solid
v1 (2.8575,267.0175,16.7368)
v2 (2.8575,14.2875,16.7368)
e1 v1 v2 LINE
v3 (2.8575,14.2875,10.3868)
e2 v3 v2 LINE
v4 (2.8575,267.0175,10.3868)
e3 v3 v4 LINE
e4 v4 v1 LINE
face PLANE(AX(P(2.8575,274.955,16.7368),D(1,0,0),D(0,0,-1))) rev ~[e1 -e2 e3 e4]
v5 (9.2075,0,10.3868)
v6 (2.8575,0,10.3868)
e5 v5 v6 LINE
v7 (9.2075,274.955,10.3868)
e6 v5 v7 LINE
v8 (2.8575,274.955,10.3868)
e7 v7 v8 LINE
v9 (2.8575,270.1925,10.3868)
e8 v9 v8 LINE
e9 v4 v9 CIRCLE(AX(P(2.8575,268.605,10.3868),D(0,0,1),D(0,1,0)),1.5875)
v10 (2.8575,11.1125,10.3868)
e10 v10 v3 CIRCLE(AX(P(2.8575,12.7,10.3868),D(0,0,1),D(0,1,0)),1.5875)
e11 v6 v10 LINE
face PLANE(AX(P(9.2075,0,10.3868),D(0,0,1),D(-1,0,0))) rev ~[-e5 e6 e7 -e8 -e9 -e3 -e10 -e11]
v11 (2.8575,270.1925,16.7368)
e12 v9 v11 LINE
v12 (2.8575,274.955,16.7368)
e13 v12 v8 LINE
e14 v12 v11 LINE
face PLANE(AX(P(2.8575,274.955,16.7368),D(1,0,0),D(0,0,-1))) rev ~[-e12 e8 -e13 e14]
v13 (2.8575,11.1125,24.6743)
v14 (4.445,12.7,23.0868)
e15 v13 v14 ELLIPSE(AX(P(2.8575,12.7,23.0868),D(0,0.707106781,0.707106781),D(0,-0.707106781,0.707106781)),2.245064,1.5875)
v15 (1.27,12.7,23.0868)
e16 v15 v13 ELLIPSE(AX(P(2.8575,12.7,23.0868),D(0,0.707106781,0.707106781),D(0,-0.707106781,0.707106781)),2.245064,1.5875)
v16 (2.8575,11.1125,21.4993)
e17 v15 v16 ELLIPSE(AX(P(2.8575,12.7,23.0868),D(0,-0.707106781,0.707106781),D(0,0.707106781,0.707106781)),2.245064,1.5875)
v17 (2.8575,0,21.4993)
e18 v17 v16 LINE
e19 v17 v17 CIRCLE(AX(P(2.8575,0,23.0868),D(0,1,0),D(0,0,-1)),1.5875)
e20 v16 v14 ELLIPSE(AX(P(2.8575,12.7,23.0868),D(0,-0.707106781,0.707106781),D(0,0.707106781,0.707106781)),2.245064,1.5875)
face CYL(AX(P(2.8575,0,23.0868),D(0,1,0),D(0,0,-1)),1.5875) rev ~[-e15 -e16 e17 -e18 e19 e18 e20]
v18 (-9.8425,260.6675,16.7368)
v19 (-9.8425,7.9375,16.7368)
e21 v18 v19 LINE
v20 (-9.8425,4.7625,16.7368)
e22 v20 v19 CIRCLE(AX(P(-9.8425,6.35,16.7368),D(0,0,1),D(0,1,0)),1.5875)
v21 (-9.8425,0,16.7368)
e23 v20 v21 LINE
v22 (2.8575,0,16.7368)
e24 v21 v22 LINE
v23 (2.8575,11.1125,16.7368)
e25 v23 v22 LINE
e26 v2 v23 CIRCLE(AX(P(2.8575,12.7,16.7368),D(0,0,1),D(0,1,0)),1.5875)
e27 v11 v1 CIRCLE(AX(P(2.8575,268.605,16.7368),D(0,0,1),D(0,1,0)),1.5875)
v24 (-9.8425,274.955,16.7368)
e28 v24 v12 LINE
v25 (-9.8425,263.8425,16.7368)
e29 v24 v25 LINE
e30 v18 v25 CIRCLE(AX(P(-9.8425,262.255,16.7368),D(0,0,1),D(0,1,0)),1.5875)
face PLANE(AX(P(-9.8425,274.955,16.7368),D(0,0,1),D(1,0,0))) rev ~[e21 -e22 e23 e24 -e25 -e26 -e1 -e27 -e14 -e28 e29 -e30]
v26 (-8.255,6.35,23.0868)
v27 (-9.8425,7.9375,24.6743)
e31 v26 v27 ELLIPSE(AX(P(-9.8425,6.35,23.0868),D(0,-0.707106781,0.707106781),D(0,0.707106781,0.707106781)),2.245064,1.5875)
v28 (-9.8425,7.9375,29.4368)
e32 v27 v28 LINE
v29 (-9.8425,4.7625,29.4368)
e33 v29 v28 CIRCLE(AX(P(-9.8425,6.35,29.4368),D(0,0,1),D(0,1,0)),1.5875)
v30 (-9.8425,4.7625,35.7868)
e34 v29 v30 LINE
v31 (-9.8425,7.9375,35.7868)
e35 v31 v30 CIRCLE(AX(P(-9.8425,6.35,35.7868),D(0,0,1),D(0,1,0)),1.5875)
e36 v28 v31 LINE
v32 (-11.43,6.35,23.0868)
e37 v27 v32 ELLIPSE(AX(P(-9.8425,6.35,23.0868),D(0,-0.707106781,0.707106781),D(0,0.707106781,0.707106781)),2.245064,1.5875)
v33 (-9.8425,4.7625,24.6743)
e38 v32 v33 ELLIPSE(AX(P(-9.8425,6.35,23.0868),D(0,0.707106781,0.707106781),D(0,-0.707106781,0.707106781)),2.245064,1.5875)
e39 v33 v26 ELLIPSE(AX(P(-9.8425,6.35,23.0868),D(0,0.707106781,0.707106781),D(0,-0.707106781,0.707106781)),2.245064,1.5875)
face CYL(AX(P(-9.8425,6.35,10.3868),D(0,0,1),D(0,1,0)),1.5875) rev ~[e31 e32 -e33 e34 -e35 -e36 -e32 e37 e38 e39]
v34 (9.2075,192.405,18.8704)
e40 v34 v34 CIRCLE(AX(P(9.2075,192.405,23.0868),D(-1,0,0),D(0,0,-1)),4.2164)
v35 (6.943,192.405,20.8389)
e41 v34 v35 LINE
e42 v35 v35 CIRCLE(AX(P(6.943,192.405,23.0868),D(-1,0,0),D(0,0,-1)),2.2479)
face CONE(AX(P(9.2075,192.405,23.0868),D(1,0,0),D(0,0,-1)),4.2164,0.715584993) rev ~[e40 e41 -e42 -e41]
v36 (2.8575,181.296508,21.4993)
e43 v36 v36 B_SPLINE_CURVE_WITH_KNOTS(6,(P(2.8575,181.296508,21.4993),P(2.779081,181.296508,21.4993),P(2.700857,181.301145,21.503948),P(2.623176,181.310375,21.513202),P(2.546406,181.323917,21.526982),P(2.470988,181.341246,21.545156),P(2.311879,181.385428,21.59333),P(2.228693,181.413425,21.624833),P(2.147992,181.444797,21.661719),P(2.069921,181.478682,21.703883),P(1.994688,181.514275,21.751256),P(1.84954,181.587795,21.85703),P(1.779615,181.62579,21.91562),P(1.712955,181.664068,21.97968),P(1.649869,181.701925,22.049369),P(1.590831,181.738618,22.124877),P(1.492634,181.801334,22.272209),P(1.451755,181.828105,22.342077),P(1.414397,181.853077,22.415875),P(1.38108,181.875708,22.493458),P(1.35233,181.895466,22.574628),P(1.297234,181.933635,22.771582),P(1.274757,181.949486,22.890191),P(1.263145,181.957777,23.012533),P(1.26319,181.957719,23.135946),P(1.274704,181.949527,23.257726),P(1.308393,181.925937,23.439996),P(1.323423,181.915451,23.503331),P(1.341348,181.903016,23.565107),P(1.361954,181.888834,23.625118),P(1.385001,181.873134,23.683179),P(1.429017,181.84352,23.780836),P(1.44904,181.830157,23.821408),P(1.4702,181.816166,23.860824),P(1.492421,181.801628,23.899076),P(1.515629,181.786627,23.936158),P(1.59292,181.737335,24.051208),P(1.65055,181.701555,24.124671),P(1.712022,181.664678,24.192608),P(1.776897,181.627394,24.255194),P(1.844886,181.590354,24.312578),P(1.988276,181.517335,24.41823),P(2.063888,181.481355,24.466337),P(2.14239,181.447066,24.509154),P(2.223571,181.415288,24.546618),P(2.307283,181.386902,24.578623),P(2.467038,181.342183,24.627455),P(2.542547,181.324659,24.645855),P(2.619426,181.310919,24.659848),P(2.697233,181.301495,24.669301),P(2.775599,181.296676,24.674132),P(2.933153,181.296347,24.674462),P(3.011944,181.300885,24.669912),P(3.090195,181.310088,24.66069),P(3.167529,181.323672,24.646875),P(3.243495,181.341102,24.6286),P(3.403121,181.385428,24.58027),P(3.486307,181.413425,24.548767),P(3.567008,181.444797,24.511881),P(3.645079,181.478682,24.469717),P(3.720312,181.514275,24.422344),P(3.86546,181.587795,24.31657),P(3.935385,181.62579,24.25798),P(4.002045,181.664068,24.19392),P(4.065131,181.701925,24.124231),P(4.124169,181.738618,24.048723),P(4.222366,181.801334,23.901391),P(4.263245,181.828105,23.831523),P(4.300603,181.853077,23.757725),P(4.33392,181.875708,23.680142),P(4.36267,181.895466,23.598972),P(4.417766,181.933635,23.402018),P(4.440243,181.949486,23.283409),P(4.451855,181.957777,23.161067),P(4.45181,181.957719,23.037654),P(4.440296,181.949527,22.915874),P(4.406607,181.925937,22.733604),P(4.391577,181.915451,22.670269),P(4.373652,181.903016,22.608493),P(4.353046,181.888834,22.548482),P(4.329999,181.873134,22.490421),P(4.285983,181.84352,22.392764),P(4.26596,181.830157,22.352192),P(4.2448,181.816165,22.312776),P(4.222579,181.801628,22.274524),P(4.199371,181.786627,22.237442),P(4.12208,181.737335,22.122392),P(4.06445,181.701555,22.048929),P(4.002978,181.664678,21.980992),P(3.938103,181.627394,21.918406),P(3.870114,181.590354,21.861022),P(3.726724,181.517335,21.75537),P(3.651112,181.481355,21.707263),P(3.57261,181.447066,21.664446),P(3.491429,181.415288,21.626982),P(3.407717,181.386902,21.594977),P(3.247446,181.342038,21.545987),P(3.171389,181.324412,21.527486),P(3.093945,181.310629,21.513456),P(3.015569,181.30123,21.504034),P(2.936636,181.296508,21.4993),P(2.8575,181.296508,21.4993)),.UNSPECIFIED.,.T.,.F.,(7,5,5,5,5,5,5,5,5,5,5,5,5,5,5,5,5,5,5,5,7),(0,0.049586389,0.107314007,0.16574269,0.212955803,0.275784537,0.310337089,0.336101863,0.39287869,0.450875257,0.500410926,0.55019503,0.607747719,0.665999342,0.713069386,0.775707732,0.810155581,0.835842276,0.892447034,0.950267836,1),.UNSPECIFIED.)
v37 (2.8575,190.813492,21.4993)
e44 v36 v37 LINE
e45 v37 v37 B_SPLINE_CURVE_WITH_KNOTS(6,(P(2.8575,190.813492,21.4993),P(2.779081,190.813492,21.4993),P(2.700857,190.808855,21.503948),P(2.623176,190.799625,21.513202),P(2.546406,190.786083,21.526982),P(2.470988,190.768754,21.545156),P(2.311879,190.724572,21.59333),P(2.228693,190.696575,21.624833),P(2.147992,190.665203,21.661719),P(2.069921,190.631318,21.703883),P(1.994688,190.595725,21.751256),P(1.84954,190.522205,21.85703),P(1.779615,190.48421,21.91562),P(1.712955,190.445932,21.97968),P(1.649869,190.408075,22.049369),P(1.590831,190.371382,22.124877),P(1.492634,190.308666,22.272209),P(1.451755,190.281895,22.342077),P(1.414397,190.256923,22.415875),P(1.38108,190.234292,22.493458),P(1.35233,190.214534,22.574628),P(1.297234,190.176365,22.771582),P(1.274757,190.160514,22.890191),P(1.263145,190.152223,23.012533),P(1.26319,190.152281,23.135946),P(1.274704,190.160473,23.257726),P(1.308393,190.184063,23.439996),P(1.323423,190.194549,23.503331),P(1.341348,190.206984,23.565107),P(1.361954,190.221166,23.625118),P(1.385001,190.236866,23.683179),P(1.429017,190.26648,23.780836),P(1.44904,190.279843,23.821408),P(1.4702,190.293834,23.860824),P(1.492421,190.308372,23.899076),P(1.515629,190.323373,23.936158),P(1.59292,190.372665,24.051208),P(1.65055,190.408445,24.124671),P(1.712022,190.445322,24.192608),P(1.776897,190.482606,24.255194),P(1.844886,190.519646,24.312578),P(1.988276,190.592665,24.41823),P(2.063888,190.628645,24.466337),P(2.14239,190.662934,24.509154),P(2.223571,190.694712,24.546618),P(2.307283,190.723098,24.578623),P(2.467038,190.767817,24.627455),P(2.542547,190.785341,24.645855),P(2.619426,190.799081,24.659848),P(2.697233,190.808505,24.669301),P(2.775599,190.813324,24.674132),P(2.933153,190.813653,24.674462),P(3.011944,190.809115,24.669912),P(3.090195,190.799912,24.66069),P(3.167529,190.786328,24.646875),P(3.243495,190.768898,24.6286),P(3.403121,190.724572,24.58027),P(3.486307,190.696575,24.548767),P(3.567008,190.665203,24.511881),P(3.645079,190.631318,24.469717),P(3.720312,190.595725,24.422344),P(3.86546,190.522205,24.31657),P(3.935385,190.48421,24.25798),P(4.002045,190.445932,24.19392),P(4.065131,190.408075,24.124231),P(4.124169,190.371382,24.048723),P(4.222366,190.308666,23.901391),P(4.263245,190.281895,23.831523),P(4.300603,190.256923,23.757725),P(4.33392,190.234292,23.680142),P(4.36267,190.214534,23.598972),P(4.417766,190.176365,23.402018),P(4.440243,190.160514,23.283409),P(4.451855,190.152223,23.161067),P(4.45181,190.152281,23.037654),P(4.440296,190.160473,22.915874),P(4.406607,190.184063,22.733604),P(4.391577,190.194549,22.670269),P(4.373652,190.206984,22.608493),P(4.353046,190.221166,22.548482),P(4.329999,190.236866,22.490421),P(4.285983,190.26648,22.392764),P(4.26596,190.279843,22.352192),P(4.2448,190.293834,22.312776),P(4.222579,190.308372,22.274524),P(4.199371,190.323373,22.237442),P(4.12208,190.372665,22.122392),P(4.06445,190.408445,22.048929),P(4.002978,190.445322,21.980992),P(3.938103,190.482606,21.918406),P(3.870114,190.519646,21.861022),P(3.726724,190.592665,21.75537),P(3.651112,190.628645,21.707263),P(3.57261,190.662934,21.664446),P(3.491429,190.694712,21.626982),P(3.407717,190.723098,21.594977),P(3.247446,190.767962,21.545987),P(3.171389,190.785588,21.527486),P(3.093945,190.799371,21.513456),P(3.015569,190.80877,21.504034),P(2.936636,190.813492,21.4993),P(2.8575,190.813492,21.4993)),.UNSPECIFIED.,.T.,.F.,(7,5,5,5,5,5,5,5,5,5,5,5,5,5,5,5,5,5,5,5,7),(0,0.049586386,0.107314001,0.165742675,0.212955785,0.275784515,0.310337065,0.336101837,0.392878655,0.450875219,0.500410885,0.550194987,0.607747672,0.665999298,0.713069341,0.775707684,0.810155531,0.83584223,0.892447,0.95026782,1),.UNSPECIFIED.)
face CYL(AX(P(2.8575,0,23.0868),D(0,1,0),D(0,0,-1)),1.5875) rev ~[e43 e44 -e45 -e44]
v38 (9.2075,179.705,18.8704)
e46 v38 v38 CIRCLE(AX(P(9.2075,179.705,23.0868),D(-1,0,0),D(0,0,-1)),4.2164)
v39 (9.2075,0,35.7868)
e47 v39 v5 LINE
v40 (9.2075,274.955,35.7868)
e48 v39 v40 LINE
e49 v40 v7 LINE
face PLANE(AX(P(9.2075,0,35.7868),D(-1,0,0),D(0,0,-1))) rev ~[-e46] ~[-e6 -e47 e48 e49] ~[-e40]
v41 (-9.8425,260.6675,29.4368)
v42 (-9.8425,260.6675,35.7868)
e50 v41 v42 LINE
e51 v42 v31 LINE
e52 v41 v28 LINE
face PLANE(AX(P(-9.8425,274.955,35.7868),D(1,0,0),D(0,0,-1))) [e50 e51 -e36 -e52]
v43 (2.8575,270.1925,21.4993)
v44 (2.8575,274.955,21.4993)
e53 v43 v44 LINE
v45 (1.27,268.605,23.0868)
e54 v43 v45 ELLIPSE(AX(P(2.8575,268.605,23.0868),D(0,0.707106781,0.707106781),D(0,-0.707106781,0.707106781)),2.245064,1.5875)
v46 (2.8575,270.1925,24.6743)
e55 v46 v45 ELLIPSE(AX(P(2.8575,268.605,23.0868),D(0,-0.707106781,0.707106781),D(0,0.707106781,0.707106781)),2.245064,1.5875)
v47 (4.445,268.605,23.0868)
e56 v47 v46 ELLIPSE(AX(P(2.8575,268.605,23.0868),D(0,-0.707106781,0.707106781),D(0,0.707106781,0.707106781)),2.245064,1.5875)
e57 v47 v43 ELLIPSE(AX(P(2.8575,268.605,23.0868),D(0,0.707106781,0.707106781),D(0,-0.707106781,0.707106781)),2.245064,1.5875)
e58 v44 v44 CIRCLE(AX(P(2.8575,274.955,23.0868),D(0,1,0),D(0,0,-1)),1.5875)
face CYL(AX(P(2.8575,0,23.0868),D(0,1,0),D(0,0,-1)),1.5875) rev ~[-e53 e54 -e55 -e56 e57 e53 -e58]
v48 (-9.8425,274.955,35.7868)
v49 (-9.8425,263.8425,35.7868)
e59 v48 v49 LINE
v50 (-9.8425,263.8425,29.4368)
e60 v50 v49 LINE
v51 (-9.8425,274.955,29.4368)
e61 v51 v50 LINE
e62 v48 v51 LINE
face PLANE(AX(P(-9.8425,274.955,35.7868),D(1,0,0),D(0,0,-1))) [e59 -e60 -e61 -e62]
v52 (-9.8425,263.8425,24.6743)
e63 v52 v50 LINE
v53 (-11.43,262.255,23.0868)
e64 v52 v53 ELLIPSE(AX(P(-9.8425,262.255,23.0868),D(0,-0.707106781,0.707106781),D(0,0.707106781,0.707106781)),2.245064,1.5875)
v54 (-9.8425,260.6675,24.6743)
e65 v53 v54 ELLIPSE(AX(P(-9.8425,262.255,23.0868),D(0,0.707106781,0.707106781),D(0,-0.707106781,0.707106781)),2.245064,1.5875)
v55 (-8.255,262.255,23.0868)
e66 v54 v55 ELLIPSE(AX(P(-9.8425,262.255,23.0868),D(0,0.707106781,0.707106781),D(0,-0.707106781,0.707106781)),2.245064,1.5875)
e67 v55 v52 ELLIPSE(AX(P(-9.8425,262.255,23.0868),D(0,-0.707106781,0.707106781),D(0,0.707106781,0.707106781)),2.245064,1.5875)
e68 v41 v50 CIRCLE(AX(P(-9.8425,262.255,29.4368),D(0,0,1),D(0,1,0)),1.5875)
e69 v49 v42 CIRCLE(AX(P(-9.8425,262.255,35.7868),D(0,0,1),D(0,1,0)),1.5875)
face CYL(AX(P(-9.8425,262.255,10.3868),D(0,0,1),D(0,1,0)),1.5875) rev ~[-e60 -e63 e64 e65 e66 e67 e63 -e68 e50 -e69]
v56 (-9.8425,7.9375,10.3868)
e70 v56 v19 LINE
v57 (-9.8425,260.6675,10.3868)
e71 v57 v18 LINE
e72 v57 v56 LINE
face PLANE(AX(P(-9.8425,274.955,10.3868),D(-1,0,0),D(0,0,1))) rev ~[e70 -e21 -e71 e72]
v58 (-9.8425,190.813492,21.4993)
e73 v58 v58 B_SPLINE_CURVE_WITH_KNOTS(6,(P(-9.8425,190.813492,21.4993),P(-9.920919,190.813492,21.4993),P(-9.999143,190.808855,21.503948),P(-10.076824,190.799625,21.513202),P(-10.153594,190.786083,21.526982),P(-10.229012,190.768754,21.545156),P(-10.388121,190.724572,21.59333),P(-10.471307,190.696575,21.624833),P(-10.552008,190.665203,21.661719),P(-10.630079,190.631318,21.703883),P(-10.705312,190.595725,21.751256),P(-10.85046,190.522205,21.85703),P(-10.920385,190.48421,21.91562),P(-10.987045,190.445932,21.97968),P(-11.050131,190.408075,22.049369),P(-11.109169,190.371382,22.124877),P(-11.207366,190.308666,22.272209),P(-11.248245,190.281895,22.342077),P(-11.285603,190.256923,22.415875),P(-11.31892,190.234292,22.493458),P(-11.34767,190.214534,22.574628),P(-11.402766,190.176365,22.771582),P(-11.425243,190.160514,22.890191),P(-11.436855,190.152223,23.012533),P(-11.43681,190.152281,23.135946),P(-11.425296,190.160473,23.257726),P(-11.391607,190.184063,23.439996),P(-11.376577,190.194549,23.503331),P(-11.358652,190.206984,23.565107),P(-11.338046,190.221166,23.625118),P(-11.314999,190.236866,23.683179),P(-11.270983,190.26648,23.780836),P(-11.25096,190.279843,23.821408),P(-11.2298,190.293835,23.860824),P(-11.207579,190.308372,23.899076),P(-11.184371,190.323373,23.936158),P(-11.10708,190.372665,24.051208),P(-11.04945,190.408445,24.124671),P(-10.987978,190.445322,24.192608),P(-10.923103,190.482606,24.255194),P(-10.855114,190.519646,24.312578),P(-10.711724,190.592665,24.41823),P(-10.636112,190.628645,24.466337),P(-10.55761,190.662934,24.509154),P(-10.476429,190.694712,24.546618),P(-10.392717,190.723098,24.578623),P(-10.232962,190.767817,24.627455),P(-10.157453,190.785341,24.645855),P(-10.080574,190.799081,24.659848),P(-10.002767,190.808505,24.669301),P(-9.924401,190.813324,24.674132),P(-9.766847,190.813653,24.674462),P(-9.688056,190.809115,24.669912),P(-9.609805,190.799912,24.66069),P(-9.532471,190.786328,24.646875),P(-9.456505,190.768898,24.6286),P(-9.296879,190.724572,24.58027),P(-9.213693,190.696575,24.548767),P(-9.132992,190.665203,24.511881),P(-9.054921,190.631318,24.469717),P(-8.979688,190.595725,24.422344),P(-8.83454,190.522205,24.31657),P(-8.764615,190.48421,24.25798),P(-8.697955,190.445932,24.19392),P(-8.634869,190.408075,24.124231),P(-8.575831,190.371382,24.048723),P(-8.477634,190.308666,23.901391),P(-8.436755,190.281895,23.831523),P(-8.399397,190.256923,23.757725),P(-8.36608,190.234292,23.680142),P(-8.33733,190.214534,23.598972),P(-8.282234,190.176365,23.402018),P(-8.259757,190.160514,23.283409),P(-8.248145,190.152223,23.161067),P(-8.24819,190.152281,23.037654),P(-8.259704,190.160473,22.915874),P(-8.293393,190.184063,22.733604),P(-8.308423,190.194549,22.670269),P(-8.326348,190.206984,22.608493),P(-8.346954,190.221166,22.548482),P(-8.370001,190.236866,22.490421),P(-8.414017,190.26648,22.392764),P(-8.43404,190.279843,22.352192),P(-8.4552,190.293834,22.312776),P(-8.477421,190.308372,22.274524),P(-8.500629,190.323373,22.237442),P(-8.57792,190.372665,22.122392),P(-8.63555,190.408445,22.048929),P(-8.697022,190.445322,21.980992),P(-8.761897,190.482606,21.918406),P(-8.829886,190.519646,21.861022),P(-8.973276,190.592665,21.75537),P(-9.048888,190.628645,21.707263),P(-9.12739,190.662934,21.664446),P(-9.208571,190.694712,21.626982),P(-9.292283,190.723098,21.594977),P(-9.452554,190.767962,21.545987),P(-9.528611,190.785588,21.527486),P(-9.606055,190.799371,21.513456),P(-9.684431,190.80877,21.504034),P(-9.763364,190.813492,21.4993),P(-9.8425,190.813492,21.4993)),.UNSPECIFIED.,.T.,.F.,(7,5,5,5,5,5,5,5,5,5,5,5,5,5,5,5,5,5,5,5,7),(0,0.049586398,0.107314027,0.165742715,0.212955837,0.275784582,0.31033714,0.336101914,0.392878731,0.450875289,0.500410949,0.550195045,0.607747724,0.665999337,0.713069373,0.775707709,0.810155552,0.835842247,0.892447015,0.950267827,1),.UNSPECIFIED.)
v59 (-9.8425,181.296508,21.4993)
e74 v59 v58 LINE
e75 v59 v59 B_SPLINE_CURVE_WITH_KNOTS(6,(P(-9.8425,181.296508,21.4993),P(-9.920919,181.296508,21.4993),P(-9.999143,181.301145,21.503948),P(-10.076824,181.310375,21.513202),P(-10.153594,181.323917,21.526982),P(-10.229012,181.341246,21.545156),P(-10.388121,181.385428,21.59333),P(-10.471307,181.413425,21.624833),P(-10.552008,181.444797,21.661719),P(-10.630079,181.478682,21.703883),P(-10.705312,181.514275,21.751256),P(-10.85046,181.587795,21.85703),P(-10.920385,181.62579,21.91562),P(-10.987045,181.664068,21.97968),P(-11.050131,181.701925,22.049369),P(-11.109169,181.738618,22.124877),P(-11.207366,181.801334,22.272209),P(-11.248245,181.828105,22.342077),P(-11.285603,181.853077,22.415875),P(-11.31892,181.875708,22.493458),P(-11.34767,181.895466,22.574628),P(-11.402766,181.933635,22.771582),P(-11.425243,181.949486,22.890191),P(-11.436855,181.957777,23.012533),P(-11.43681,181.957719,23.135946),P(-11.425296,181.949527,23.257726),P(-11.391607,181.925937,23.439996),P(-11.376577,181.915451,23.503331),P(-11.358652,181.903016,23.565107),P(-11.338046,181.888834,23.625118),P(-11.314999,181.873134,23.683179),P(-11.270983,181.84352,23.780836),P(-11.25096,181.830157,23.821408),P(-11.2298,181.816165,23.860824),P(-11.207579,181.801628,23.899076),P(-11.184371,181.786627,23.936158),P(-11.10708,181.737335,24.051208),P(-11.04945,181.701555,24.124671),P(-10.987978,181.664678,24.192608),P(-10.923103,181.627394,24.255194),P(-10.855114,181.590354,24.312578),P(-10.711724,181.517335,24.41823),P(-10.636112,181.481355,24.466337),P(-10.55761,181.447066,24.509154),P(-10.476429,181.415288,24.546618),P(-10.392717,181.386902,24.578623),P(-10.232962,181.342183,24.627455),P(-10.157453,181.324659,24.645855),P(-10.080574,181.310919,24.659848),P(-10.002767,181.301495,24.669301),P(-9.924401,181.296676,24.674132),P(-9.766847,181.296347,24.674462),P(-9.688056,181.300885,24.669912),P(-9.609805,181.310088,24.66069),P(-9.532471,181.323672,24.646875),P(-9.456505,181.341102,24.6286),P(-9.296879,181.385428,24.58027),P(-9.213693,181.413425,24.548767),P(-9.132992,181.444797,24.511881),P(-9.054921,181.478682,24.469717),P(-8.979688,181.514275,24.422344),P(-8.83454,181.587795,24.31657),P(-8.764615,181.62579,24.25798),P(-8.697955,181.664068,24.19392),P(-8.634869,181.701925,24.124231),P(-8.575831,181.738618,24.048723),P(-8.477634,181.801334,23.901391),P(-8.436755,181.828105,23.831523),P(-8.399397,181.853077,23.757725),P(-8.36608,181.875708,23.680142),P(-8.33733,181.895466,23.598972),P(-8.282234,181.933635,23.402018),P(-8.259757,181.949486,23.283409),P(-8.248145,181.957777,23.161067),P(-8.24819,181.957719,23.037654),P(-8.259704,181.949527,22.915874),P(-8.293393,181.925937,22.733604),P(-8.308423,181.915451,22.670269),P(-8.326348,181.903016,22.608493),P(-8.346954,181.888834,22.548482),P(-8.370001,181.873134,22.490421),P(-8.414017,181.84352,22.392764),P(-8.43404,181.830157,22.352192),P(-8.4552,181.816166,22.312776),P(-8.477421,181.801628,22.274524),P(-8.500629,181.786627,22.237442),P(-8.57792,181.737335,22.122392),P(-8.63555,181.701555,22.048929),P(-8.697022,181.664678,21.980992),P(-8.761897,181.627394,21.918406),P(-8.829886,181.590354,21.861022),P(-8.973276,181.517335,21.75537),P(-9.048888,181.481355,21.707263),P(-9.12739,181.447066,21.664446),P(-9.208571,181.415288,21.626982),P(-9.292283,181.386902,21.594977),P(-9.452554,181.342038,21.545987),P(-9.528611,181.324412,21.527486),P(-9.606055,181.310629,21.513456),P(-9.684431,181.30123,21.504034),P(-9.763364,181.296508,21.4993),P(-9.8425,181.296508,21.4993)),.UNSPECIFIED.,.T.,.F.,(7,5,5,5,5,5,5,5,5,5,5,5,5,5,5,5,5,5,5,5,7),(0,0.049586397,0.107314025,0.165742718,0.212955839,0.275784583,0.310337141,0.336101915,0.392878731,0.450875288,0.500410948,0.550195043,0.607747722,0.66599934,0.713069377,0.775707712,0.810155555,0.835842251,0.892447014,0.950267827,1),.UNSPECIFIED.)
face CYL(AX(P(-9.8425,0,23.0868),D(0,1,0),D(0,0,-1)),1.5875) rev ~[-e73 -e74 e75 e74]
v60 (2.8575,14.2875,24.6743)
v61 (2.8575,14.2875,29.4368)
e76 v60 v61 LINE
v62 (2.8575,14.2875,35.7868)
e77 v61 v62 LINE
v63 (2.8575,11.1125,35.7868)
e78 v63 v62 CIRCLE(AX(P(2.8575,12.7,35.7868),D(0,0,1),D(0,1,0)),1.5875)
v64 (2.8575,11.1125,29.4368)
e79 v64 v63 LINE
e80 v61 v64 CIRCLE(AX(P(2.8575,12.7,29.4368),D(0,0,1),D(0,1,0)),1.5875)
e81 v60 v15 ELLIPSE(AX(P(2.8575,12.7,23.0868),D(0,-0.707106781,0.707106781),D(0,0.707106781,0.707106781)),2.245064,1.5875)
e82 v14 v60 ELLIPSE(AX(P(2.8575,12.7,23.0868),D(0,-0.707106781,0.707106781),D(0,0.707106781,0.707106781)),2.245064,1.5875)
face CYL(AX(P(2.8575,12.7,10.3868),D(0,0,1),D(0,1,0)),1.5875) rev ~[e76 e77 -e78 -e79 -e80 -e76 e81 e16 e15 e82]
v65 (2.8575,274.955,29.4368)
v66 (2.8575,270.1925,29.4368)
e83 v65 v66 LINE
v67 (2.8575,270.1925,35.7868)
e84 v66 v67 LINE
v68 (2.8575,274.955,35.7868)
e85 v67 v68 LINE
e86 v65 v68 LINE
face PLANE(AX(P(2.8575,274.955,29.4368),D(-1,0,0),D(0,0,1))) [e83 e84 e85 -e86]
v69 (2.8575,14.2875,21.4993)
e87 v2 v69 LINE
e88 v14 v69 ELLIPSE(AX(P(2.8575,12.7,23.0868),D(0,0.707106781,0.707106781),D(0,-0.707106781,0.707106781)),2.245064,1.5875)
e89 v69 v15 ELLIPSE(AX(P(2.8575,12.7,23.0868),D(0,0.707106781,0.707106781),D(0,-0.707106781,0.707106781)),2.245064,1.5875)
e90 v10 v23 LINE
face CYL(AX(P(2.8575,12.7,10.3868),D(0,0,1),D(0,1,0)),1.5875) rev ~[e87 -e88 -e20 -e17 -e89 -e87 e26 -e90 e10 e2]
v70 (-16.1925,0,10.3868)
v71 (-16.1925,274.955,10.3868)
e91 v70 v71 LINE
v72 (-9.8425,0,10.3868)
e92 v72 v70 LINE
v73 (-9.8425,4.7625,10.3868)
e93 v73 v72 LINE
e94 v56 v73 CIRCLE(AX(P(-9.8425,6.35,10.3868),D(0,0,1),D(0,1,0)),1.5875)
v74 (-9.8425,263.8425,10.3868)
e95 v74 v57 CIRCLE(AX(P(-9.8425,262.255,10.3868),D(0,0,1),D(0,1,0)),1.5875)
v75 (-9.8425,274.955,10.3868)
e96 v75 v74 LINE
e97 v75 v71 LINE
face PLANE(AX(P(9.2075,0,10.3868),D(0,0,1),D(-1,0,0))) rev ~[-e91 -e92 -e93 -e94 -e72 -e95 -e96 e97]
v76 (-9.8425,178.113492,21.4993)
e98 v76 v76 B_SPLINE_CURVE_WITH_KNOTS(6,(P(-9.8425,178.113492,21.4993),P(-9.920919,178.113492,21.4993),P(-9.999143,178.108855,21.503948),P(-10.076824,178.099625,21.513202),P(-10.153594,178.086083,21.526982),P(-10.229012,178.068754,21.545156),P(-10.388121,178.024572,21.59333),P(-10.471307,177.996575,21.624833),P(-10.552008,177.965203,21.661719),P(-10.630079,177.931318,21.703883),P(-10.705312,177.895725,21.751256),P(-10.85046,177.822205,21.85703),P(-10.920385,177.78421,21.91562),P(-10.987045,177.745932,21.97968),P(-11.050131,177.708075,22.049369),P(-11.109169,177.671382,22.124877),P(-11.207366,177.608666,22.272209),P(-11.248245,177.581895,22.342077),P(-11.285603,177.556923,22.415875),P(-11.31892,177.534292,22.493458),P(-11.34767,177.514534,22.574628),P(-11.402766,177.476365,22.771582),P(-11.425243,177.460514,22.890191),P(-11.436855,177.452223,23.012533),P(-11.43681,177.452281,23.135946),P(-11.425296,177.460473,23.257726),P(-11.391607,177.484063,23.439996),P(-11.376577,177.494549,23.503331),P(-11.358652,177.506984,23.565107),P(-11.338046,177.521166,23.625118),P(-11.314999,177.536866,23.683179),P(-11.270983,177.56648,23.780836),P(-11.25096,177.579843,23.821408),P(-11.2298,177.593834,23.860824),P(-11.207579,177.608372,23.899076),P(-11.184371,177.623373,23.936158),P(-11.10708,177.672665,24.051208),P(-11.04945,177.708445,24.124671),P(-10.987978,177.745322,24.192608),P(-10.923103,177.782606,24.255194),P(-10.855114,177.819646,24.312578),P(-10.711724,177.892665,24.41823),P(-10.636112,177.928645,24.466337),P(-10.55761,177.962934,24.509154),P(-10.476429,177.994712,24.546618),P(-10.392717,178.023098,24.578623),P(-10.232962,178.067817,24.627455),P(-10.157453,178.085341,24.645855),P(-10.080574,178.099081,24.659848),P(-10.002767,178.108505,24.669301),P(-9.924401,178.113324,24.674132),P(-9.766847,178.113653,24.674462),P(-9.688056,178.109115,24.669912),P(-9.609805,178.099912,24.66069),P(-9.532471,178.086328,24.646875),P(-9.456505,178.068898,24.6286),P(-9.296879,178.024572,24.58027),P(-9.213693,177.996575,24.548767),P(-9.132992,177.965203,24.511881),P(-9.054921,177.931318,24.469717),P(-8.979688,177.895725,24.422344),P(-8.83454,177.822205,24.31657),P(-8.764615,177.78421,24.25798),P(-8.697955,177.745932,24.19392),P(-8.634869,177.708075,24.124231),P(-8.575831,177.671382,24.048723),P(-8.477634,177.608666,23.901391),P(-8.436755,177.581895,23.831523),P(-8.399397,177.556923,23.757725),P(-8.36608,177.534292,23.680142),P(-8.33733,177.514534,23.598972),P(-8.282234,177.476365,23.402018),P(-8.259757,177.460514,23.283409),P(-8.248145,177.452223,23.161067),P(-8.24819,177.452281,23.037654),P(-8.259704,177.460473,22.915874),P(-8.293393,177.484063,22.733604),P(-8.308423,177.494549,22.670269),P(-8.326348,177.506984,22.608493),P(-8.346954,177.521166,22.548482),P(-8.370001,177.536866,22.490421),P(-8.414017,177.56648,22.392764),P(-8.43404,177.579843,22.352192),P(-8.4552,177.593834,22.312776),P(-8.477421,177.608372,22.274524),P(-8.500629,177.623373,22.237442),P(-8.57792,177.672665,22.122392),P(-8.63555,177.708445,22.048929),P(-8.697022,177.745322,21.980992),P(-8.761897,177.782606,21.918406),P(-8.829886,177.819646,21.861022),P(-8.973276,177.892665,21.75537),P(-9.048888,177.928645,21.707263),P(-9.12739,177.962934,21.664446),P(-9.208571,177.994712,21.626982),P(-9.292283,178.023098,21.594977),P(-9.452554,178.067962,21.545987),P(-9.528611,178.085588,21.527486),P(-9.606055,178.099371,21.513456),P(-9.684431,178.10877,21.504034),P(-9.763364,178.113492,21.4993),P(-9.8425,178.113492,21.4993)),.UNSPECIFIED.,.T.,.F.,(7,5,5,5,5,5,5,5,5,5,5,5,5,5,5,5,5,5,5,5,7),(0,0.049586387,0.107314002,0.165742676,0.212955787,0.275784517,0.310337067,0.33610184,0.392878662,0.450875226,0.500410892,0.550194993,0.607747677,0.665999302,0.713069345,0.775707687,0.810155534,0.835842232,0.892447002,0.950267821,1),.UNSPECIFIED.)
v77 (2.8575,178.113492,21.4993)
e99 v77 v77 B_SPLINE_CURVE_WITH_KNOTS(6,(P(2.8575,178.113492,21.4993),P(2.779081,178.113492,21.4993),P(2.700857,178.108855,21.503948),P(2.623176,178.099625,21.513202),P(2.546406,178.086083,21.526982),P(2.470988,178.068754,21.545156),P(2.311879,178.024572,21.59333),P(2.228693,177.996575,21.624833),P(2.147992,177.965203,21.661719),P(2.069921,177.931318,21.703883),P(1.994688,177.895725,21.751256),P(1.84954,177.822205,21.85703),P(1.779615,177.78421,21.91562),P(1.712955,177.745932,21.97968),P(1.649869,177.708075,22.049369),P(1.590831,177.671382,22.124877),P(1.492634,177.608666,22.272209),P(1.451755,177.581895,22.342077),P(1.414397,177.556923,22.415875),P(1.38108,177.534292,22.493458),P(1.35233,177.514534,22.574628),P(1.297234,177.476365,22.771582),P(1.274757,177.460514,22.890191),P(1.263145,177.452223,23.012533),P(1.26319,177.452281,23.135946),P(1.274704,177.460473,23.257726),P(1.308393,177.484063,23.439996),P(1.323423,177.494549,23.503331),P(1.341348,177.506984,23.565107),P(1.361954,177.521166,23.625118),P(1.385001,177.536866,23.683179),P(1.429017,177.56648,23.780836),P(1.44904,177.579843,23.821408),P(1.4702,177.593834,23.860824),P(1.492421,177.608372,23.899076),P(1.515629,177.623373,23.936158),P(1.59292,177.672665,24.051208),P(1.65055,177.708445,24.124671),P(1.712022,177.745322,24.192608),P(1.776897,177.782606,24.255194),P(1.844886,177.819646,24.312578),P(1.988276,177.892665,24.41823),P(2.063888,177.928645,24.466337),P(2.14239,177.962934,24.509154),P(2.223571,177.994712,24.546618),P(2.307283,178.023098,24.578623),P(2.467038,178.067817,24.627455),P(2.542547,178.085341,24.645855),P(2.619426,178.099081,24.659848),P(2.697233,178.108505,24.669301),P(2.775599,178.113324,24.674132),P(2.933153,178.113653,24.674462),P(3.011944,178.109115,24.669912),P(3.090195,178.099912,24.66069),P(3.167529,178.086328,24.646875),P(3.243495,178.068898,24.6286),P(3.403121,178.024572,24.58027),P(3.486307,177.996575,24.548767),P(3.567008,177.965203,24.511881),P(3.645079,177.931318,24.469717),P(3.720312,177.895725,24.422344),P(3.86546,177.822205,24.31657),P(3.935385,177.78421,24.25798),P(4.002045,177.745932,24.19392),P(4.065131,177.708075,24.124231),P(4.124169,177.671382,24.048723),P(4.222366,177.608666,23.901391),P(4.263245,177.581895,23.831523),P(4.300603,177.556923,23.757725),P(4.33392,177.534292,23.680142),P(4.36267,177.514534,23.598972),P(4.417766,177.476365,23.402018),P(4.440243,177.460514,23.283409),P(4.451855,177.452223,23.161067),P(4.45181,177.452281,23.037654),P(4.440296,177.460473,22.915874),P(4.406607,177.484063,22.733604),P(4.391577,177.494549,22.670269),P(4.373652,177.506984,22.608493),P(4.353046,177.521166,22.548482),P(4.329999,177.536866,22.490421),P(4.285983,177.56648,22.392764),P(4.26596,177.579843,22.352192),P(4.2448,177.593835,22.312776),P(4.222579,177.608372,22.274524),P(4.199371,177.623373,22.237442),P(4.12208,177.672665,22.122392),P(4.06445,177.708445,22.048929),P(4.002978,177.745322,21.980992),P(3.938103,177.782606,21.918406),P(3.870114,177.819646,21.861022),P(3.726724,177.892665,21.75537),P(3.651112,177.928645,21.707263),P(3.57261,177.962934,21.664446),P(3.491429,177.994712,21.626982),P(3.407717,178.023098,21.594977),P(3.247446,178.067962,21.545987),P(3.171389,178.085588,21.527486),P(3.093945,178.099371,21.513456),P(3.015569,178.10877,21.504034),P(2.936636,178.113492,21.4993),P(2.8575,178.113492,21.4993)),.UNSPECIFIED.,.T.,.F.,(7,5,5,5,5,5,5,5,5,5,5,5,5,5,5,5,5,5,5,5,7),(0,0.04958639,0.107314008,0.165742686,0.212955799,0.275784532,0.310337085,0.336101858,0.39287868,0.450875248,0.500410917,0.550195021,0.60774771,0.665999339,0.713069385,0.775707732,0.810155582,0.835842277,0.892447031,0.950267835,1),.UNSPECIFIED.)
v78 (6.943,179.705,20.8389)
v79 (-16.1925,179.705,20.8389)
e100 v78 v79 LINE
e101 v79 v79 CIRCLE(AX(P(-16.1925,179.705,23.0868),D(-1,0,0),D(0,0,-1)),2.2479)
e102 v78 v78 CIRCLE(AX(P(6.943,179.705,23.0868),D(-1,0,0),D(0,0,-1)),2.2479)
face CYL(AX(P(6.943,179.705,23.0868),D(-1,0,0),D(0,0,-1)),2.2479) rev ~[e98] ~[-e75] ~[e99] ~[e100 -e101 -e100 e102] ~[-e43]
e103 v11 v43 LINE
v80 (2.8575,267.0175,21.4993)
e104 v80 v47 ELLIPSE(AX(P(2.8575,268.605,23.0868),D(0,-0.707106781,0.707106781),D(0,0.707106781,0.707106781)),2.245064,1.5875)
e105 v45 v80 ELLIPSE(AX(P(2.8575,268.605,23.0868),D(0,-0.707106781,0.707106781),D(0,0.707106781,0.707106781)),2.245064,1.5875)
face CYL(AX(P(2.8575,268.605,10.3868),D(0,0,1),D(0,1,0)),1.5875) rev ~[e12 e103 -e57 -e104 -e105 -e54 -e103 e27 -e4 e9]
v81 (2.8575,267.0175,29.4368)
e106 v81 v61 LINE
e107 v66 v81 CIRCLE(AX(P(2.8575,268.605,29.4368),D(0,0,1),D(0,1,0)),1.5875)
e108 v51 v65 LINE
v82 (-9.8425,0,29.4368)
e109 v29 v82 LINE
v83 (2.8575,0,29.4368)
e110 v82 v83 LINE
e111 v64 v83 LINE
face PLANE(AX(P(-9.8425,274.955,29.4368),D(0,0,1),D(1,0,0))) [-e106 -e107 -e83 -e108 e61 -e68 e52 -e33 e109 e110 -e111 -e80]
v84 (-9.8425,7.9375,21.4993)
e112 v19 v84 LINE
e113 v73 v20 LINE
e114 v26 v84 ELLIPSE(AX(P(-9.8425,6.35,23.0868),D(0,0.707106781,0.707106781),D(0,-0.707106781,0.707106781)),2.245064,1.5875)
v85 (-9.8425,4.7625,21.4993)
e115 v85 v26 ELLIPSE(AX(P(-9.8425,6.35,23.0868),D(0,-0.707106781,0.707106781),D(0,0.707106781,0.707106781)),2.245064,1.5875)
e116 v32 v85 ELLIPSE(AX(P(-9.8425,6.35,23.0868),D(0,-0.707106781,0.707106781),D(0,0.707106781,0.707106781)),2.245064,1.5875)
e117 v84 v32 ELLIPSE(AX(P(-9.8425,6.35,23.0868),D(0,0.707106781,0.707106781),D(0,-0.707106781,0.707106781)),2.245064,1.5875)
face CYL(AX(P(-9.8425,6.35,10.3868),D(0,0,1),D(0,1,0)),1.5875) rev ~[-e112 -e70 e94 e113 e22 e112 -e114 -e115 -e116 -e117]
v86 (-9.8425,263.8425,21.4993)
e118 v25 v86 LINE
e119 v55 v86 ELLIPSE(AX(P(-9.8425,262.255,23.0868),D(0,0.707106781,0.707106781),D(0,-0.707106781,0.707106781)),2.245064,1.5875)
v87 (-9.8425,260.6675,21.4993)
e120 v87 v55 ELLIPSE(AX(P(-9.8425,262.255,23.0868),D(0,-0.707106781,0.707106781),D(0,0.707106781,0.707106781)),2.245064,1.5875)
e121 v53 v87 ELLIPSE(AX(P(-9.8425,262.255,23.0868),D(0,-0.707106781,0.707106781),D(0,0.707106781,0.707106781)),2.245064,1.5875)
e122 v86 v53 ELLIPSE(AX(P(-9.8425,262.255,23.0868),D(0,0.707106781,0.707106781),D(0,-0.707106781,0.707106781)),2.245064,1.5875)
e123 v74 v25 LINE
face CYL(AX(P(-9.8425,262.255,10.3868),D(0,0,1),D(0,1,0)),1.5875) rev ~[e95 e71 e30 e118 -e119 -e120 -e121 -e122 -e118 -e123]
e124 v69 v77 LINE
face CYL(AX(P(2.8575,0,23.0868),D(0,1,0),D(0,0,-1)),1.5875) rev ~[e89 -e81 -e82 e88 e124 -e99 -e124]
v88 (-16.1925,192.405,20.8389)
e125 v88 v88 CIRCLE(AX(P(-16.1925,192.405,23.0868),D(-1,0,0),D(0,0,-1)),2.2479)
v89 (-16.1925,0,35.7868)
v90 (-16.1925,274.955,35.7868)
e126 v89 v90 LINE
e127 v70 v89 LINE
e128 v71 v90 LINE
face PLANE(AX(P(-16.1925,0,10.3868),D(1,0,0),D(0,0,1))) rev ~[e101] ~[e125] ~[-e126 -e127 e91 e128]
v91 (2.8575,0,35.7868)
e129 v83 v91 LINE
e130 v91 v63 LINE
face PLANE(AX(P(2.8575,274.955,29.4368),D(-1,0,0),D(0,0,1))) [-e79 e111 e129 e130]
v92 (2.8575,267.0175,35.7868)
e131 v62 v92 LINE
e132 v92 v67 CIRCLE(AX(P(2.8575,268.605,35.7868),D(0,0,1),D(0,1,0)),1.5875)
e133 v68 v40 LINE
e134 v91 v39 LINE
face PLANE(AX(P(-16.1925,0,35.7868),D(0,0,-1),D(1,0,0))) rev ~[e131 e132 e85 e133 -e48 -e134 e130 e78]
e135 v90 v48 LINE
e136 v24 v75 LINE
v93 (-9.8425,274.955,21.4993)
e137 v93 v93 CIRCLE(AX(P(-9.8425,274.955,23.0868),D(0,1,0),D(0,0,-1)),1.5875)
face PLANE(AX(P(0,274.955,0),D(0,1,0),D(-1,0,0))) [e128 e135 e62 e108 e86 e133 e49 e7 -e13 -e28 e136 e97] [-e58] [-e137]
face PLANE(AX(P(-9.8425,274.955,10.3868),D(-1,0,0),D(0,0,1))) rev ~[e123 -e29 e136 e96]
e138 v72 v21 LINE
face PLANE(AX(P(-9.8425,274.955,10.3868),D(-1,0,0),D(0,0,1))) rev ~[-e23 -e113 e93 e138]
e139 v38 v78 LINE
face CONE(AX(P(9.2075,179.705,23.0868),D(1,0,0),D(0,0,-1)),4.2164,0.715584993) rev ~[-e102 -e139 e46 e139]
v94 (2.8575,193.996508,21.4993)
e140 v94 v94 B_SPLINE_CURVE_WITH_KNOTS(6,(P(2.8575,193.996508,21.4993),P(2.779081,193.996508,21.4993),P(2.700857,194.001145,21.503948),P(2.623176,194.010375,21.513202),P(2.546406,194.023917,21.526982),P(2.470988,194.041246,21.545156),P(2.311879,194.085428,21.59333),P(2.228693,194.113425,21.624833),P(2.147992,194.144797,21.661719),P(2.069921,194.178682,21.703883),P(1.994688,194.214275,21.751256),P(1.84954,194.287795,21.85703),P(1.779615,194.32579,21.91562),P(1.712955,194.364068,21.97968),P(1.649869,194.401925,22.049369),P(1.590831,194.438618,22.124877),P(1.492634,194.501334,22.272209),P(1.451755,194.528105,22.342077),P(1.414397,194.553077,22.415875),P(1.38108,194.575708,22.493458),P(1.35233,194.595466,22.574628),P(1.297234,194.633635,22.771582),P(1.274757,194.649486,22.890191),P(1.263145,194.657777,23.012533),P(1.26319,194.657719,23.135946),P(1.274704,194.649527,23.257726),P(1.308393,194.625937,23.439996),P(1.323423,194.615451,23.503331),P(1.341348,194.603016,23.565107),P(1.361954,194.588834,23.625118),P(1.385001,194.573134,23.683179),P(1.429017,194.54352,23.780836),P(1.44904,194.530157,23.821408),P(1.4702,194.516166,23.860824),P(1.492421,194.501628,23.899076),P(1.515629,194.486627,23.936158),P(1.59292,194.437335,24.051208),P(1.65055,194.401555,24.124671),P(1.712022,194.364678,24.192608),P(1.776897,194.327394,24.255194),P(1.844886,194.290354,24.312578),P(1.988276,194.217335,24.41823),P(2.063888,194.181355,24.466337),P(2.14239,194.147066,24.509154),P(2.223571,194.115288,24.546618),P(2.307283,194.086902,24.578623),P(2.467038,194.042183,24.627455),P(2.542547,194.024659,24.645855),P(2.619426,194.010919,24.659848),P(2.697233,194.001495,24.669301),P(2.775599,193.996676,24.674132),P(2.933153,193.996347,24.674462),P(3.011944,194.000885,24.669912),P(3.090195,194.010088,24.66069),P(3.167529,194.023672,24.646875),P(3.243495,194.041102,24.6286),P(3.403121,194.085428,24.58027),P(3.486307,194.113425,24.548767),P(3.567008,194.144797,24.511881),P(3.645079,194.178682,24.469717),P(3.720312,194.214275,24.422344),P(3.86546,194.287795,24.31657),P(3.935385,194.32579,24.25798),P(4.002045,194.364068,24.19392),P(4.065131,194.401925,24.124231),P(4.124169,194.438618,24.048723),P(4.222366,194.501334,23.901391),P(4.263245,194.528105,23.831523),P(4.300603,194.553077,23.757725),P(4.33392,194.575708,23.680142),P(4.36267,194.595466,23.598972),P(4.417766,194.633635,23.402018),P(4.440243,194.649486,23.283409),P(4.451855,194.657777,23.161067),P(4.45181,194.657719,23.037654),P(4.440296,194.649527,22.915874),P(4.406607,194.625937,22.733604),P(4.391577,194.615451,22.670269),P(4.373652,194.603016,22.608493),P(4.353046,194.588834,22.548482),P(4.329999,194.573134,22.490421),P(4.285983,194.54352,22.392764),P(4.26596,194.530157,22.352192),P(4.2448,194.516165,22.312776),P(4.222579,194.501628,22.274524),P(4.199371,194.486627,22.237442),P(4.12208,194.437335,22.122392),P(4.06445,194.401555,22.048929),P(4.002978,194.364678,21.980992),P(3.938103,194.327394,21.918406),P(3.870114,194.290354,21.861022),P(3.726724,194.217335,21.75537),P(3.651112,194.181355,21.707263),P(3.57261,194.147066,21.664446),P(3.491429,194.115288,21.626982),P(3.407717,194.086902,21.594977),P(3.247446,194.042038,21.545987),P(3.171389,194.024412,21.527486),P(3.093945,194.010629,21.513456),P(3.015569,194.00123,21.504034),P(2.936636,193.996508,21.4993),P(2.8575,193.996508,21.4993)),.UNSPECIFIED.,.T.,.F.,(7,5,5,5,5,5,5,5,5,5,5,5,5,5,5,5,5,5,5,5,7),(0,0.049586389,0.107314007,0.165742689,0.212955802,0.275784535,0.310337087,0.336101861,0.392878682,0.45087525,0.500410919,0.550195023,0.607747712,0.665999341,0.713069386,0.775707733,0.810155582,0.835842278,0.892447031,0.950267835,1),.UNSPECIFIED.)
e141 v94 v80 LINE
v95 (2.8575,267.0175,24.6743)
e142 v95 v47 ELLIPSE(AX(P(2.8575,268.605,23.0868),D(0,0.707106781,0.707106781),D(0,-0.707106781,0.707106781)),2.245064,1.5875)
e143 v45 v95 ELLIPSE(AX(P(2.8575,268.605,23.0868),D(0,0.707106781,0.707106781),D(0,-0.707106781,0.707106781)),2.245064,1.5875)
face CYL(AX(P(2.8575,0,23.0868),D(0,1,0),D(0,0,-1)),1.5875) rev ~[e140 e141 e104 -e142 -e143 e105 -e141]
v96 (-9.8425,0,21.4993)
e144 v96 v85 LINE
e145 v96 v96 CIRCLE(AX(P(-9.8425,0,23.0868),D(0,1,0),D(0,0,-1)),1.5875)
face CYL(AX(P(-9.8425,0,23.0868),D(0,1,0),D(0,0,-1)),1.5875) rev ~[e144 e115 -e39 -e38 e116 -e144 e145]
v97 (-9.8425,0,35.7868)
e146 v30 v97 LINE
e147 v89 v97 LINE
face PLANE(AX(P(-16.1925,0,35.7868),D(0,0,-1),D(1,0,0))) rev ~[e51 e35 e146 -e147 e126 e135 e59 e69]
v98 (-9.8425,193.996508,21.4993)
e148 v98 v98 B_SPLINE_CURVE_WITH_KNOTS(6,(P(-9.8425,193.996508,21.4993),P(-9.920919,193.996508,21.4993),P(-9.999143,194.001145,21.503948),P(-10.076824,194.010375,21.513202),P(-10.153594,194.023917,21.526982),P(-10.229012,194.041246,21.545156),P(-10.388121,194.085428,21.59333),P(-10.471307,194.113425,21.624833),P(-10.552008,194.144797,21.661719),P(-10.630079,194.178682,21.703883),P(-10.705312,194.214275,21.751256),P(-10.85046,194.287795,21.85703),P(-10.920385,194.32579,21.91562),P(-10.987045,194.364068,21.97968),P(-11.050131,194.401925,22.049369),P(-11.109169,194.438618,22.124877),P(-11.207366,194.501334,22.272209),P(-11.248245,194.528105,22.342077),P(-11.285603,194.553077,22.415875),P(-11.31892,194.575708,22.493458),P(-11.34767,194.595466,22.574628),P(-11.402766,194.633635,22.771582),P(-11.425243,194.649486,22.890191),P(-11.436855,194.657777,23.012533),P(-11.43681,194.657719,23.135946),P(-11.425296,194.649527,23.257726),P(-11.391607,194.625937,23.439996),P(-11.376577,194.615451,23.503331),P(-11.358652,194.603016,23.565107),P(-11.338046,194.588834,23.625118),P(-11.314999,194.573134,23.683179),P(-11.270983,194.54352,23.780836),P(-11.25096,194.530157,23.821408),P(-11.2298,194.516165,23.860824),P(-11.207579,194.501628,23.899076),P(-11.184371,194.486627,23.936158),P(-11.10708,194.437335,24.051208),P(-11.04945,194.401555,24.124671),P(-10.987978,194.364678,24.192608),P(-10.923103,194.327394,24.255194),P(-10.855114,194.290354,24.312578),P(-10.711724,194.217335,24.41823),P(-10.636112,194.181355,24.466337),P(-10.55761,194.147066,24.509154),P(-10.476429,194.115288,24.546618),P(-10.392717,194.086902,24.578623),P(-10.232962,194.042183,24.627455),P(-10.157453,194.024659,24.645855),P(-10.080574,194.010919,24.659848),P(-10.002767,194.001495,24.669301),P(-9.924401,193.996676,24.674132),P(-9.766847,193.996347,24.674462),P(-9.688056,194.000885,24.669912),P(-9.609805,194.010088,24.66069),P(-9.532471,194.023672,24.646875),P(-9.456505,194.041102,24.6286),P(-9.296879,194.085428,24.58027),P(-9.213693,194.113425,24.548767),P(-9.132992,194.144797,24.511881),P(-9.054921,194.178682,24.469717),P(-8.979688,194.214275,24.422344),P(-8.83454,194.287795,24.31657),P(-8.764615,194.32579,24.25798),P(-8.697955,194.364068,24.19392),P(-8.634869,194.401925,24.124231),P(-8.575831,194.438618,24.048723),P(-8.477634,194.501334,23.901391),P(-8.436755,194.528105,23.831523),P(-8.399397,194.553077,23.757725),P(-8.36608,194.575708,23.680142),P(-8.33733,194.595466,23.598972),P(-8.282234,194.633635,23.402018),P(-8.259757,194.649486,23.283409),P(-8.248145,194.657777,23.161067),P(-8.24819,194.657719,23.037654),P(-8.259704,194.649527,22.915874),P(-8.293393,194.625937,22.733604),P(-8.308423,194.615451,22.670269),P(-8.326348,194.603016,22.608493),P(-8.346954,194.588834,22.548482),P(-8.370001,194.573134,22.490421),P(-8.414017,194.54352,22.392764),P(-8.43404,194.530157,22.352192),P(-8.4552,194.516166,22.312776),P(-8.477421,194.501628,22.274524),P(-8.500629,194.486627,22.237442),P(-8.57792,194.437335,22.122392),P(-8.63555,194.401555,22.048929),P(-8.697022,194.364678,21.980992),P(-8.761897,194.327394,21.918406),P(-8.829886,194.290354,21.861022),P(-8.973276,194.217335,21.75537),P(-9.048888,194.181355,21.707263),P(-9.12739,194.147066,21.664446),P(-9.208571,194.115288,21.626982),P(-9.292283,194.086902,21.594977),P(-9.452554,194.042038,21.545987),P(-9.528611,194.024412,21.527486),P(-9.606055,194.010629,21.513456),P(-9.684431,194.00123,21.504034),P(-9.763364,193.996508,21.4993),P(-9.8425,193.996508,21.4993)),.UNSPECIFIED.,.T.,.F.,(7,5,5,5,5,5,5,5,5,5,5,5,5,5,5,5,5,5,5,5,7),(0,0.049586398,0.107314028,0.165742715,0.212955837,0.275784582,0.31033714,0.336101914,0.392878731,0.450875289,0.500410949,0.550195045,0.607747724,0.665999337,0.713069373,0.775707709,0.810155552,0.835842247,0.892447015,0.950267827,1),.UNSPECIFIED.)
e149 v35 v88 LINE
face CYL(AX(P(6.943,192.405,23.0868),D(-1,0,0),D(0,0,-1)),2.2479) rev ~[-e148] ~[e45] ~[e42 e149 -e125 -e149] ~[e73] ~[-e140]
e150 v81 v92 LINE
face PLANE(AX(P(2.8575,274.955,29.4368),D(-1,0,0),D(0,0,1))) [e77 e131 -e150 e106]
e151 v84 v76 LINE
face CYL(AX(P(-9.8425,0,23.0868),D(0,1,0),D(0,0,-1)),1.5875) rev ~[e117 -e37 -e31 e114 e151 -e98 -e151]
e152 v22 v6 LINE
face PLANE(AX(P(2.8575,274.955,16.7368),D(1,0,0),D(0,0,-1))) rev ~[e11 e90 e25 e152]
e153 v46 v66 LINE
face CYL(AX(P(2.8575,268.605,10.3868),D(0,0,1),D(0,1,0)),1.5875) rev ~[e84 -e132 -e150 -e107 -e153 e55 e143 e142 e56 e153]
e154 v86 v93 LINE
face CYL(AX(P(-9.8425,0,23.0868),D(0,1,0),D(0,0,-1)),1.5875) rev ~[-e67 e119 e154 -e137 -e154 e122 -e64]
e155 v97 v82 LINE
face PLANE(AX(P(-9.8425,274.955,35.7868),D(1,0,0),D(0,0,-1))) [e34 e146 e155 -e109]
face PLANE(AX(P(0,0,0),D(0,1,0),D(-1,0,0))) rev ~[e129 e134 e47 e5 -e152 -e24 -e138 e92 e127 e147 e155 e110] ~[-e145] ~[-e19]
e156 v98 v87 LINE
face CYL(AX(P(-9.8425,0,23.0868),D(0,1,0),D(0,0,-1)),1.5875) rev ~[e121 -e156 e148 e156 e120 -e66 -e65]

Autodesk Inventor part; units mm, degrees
ref_plane "YZ Plane" through (0, 0, 0) normal (1, 0, 0) x (0, 1, 0)
ref_plane "XZ Plane" through (0, 0, 0) normal (0, 1, 0) x (-1, 0, 0)
ref_plane "XY Plane" through (0, 0, 0) normal (0, 0, 1) x (1, 0, 0)
sketch "Sketch1" plane through (0, 0, 0) normal (0, 1, 0) x (-1, 0, 0)
  line L0 (16.1925, 35.7868) -> (-9.2075, 35.7868)
  line L1 (-9.2075, 35.7868) -> (-9.2075, 10.3868)
  line L2 (-9.2075, 10.3868) -> (16.1925, 10.3868)
  line L3 (16.1925, 10.3868) -> (16.1925, 35.7868)
  point P0 (0, 0)
  dimension "d0" = 25.4
  dimension "d1" = 25.4
extrude "Extrusion1" add sketch "Sketch1" along normal blind 274.955
sketch "Sketch2" plane through (0, 274.955, 0) normal (0, 1, 0) x (1, 0, 0)
  line L0 (-9.8425, -16.7368) -> (2.8575, -16.7368)
  line L1 (2.8575, -16.7368) -> (2.8575, -1.003)
  line L2 (2.8575, -1.003) -> (-9.8425, -1.003)
  line L3 (-9.8425, -1.003) -> (-9.8425, -16.7368)
  line L4 (9.2075, -35.7868) -> (9.2075, -10.3868) projected
  line L5 (-16.1925, -10.3868) -> (-16.1925, -35.7868) projected
  line L6 (9.2075, -10.3868) -> (-16.1925, -10.3868) projected
  point P0 (0, 0)
  dimension "d4" = 6.35
  dimension "d5" = 6.35
  dimension "d6" = 6.35
extrude "Extrusion2" cut sketch "Sketch2" against normal blind 508
sketch "Sketch4" plane through (0, 274.955, 0) normal (0, 1, 0) x (1, 0, 0)
  line L0 (-9.8425, -29.4368) -> (2.8575, -29.4368)
  line L1 (2.8575, -29.4368) -> (2.8575, -45.8861)
  line L2 (2.8575, -45.8861) -> (-9.8425, -45.8861)
  line L3 (-9.8425, -45.8861) -> (-9.8425, -29.4368)
  line L4 (-16.1925, -10.3868) -> (-16.1925, -35.7868) projected
  line L5 (9.2075, -35.7868) -> (9.2075, -10.3868) projected
  line L6 (-16.1925, -35.7868) -> (9.2075, -35.7868) projected
  point P0 (0, 0)
  dimension "d20" = 6.35
  dimension "d21" = 6.35
  dimension "d22" = 6.35
extrude "Extrusion3" cut sketch "Sketch4" against normal blind 508
sketch "Sketch5" plane through (9.2075, 0, 10.3868) normal (0, 0, -1) x (-1, 0, 0)
  line L0 (0, 0) -> (6.35, 0) projected
  line L1 (0, 0) -> (0, 274.955) projected
  line L2 (25.4, 0) -> (25.4, 274.955) projected
  line L3 (19.05, 0) -> (25.4, 0) projected
  point P0 (9.2075, 0)
  point P1 (19.05, 6.35)
  point P2 (6.35, 12.7)
  dimension "d25" = 12.7
  dimension "d27" = 6.35
  dimension "d28" = 6.35
  dimension "d60" = 19.05
hole "Hole2" at (-9.8425, 6.35, 10.3868) at (2.8575, 12.7, 10.3868) direction (0, 0, 1) diameter 3.175 end through all
sketch "Sketch6" plane through (-16.1925, 0, 10.3868) normal (0, 0, -1) x (-1, 0, 0)
  line L0 (-6.35, 274.955) -> (-6.35, 7.9375) projected
  line L1 (-25.4, 274.955) -> (-19.05, 274.955) projected
  line L2 (-25.4, 0) -> (-25.4, 274.955) projected
  line L3 (-6.35, 274.955) -> (0, 274.955) projected
  line L4 (0, 0) -> (0, 274.955) projected
  point P0 (-16.1925, 0)
  point P1 (-19.05, 268.605)
  point P2 (-6.35, 262.255)
  dimension "d36" = 6.35
  dimension "d38" = 12.7
  dimension "d58" = 6.35
  dimension "d59" = 19.05
hole "Hole3" at (2.8575, 268.605, 10.3868) at (-9.8425, 262.255, 10.3868) direction (0, 0, 1) diameter 3.175 end through all
sketch "Sketch7" plane through (0, 0, 0) normal (0, -1, 0) x (1, 0, 0)
  line L0 (2.8575, 35.7868) -> (9.2075, 35.7868) projected
  line L1 (9.2075, 35.7868) -> (9.2075, 10.3868) projected
  line L2 (-16.1925, 10.3868) -> (-16.1925, 35.7868) projected
  line L3 (-16.1925, 35.7868) -> (-9.8425, 35.7868) projected
  point P0 (0, 0)
  point P1 (-9.8425, 23.0868)
  point P2 (2.8575, 23.0868)
  dimension "d47" = 12.7
  dimension "d48" = 6.35
  dimension "d49" = 6.35
  dimension "d50" = 12.7
hole "Hole4" at (-9.8425, 0, 23.0868) at (2.8575, 0, 23.0868) direction (0, 1, 0) diameter 3.175 end through all
sketch "Sketch13" plane through (9.2075, 274.955, 35.7868) normal (1, 0, 0) x (0, 0, -1)
  line L0 (0, 0) -> (25.4, 0) projected
  line L1 (0, -274.955) -> (0, 0) projected
  point P0 (35.7868, -274.955)
  point P1 (12.7, -82.55)
  point P2 (12.7, -95.25)
  point P3 (0, -88.8492)
  dimension "d95" = 82.55
  dimension "d96" = 12.7
  dimension "d97" = 12.7
  dimension "d98" = 12.7
hole "Hole6" at (9.2075, 192.405, 23.0868) at (9.2075, 179.705, 23.0868) direction (-1, 0, 0) diameter 4.4958 end through all countersink diameter 8.4328 countersink angle 82 clearance for "Flat Head Machine Screw (82)" size "#8" standard "Ansi Unified Screw Threads"
properties part number "ShortBeamSplit"
